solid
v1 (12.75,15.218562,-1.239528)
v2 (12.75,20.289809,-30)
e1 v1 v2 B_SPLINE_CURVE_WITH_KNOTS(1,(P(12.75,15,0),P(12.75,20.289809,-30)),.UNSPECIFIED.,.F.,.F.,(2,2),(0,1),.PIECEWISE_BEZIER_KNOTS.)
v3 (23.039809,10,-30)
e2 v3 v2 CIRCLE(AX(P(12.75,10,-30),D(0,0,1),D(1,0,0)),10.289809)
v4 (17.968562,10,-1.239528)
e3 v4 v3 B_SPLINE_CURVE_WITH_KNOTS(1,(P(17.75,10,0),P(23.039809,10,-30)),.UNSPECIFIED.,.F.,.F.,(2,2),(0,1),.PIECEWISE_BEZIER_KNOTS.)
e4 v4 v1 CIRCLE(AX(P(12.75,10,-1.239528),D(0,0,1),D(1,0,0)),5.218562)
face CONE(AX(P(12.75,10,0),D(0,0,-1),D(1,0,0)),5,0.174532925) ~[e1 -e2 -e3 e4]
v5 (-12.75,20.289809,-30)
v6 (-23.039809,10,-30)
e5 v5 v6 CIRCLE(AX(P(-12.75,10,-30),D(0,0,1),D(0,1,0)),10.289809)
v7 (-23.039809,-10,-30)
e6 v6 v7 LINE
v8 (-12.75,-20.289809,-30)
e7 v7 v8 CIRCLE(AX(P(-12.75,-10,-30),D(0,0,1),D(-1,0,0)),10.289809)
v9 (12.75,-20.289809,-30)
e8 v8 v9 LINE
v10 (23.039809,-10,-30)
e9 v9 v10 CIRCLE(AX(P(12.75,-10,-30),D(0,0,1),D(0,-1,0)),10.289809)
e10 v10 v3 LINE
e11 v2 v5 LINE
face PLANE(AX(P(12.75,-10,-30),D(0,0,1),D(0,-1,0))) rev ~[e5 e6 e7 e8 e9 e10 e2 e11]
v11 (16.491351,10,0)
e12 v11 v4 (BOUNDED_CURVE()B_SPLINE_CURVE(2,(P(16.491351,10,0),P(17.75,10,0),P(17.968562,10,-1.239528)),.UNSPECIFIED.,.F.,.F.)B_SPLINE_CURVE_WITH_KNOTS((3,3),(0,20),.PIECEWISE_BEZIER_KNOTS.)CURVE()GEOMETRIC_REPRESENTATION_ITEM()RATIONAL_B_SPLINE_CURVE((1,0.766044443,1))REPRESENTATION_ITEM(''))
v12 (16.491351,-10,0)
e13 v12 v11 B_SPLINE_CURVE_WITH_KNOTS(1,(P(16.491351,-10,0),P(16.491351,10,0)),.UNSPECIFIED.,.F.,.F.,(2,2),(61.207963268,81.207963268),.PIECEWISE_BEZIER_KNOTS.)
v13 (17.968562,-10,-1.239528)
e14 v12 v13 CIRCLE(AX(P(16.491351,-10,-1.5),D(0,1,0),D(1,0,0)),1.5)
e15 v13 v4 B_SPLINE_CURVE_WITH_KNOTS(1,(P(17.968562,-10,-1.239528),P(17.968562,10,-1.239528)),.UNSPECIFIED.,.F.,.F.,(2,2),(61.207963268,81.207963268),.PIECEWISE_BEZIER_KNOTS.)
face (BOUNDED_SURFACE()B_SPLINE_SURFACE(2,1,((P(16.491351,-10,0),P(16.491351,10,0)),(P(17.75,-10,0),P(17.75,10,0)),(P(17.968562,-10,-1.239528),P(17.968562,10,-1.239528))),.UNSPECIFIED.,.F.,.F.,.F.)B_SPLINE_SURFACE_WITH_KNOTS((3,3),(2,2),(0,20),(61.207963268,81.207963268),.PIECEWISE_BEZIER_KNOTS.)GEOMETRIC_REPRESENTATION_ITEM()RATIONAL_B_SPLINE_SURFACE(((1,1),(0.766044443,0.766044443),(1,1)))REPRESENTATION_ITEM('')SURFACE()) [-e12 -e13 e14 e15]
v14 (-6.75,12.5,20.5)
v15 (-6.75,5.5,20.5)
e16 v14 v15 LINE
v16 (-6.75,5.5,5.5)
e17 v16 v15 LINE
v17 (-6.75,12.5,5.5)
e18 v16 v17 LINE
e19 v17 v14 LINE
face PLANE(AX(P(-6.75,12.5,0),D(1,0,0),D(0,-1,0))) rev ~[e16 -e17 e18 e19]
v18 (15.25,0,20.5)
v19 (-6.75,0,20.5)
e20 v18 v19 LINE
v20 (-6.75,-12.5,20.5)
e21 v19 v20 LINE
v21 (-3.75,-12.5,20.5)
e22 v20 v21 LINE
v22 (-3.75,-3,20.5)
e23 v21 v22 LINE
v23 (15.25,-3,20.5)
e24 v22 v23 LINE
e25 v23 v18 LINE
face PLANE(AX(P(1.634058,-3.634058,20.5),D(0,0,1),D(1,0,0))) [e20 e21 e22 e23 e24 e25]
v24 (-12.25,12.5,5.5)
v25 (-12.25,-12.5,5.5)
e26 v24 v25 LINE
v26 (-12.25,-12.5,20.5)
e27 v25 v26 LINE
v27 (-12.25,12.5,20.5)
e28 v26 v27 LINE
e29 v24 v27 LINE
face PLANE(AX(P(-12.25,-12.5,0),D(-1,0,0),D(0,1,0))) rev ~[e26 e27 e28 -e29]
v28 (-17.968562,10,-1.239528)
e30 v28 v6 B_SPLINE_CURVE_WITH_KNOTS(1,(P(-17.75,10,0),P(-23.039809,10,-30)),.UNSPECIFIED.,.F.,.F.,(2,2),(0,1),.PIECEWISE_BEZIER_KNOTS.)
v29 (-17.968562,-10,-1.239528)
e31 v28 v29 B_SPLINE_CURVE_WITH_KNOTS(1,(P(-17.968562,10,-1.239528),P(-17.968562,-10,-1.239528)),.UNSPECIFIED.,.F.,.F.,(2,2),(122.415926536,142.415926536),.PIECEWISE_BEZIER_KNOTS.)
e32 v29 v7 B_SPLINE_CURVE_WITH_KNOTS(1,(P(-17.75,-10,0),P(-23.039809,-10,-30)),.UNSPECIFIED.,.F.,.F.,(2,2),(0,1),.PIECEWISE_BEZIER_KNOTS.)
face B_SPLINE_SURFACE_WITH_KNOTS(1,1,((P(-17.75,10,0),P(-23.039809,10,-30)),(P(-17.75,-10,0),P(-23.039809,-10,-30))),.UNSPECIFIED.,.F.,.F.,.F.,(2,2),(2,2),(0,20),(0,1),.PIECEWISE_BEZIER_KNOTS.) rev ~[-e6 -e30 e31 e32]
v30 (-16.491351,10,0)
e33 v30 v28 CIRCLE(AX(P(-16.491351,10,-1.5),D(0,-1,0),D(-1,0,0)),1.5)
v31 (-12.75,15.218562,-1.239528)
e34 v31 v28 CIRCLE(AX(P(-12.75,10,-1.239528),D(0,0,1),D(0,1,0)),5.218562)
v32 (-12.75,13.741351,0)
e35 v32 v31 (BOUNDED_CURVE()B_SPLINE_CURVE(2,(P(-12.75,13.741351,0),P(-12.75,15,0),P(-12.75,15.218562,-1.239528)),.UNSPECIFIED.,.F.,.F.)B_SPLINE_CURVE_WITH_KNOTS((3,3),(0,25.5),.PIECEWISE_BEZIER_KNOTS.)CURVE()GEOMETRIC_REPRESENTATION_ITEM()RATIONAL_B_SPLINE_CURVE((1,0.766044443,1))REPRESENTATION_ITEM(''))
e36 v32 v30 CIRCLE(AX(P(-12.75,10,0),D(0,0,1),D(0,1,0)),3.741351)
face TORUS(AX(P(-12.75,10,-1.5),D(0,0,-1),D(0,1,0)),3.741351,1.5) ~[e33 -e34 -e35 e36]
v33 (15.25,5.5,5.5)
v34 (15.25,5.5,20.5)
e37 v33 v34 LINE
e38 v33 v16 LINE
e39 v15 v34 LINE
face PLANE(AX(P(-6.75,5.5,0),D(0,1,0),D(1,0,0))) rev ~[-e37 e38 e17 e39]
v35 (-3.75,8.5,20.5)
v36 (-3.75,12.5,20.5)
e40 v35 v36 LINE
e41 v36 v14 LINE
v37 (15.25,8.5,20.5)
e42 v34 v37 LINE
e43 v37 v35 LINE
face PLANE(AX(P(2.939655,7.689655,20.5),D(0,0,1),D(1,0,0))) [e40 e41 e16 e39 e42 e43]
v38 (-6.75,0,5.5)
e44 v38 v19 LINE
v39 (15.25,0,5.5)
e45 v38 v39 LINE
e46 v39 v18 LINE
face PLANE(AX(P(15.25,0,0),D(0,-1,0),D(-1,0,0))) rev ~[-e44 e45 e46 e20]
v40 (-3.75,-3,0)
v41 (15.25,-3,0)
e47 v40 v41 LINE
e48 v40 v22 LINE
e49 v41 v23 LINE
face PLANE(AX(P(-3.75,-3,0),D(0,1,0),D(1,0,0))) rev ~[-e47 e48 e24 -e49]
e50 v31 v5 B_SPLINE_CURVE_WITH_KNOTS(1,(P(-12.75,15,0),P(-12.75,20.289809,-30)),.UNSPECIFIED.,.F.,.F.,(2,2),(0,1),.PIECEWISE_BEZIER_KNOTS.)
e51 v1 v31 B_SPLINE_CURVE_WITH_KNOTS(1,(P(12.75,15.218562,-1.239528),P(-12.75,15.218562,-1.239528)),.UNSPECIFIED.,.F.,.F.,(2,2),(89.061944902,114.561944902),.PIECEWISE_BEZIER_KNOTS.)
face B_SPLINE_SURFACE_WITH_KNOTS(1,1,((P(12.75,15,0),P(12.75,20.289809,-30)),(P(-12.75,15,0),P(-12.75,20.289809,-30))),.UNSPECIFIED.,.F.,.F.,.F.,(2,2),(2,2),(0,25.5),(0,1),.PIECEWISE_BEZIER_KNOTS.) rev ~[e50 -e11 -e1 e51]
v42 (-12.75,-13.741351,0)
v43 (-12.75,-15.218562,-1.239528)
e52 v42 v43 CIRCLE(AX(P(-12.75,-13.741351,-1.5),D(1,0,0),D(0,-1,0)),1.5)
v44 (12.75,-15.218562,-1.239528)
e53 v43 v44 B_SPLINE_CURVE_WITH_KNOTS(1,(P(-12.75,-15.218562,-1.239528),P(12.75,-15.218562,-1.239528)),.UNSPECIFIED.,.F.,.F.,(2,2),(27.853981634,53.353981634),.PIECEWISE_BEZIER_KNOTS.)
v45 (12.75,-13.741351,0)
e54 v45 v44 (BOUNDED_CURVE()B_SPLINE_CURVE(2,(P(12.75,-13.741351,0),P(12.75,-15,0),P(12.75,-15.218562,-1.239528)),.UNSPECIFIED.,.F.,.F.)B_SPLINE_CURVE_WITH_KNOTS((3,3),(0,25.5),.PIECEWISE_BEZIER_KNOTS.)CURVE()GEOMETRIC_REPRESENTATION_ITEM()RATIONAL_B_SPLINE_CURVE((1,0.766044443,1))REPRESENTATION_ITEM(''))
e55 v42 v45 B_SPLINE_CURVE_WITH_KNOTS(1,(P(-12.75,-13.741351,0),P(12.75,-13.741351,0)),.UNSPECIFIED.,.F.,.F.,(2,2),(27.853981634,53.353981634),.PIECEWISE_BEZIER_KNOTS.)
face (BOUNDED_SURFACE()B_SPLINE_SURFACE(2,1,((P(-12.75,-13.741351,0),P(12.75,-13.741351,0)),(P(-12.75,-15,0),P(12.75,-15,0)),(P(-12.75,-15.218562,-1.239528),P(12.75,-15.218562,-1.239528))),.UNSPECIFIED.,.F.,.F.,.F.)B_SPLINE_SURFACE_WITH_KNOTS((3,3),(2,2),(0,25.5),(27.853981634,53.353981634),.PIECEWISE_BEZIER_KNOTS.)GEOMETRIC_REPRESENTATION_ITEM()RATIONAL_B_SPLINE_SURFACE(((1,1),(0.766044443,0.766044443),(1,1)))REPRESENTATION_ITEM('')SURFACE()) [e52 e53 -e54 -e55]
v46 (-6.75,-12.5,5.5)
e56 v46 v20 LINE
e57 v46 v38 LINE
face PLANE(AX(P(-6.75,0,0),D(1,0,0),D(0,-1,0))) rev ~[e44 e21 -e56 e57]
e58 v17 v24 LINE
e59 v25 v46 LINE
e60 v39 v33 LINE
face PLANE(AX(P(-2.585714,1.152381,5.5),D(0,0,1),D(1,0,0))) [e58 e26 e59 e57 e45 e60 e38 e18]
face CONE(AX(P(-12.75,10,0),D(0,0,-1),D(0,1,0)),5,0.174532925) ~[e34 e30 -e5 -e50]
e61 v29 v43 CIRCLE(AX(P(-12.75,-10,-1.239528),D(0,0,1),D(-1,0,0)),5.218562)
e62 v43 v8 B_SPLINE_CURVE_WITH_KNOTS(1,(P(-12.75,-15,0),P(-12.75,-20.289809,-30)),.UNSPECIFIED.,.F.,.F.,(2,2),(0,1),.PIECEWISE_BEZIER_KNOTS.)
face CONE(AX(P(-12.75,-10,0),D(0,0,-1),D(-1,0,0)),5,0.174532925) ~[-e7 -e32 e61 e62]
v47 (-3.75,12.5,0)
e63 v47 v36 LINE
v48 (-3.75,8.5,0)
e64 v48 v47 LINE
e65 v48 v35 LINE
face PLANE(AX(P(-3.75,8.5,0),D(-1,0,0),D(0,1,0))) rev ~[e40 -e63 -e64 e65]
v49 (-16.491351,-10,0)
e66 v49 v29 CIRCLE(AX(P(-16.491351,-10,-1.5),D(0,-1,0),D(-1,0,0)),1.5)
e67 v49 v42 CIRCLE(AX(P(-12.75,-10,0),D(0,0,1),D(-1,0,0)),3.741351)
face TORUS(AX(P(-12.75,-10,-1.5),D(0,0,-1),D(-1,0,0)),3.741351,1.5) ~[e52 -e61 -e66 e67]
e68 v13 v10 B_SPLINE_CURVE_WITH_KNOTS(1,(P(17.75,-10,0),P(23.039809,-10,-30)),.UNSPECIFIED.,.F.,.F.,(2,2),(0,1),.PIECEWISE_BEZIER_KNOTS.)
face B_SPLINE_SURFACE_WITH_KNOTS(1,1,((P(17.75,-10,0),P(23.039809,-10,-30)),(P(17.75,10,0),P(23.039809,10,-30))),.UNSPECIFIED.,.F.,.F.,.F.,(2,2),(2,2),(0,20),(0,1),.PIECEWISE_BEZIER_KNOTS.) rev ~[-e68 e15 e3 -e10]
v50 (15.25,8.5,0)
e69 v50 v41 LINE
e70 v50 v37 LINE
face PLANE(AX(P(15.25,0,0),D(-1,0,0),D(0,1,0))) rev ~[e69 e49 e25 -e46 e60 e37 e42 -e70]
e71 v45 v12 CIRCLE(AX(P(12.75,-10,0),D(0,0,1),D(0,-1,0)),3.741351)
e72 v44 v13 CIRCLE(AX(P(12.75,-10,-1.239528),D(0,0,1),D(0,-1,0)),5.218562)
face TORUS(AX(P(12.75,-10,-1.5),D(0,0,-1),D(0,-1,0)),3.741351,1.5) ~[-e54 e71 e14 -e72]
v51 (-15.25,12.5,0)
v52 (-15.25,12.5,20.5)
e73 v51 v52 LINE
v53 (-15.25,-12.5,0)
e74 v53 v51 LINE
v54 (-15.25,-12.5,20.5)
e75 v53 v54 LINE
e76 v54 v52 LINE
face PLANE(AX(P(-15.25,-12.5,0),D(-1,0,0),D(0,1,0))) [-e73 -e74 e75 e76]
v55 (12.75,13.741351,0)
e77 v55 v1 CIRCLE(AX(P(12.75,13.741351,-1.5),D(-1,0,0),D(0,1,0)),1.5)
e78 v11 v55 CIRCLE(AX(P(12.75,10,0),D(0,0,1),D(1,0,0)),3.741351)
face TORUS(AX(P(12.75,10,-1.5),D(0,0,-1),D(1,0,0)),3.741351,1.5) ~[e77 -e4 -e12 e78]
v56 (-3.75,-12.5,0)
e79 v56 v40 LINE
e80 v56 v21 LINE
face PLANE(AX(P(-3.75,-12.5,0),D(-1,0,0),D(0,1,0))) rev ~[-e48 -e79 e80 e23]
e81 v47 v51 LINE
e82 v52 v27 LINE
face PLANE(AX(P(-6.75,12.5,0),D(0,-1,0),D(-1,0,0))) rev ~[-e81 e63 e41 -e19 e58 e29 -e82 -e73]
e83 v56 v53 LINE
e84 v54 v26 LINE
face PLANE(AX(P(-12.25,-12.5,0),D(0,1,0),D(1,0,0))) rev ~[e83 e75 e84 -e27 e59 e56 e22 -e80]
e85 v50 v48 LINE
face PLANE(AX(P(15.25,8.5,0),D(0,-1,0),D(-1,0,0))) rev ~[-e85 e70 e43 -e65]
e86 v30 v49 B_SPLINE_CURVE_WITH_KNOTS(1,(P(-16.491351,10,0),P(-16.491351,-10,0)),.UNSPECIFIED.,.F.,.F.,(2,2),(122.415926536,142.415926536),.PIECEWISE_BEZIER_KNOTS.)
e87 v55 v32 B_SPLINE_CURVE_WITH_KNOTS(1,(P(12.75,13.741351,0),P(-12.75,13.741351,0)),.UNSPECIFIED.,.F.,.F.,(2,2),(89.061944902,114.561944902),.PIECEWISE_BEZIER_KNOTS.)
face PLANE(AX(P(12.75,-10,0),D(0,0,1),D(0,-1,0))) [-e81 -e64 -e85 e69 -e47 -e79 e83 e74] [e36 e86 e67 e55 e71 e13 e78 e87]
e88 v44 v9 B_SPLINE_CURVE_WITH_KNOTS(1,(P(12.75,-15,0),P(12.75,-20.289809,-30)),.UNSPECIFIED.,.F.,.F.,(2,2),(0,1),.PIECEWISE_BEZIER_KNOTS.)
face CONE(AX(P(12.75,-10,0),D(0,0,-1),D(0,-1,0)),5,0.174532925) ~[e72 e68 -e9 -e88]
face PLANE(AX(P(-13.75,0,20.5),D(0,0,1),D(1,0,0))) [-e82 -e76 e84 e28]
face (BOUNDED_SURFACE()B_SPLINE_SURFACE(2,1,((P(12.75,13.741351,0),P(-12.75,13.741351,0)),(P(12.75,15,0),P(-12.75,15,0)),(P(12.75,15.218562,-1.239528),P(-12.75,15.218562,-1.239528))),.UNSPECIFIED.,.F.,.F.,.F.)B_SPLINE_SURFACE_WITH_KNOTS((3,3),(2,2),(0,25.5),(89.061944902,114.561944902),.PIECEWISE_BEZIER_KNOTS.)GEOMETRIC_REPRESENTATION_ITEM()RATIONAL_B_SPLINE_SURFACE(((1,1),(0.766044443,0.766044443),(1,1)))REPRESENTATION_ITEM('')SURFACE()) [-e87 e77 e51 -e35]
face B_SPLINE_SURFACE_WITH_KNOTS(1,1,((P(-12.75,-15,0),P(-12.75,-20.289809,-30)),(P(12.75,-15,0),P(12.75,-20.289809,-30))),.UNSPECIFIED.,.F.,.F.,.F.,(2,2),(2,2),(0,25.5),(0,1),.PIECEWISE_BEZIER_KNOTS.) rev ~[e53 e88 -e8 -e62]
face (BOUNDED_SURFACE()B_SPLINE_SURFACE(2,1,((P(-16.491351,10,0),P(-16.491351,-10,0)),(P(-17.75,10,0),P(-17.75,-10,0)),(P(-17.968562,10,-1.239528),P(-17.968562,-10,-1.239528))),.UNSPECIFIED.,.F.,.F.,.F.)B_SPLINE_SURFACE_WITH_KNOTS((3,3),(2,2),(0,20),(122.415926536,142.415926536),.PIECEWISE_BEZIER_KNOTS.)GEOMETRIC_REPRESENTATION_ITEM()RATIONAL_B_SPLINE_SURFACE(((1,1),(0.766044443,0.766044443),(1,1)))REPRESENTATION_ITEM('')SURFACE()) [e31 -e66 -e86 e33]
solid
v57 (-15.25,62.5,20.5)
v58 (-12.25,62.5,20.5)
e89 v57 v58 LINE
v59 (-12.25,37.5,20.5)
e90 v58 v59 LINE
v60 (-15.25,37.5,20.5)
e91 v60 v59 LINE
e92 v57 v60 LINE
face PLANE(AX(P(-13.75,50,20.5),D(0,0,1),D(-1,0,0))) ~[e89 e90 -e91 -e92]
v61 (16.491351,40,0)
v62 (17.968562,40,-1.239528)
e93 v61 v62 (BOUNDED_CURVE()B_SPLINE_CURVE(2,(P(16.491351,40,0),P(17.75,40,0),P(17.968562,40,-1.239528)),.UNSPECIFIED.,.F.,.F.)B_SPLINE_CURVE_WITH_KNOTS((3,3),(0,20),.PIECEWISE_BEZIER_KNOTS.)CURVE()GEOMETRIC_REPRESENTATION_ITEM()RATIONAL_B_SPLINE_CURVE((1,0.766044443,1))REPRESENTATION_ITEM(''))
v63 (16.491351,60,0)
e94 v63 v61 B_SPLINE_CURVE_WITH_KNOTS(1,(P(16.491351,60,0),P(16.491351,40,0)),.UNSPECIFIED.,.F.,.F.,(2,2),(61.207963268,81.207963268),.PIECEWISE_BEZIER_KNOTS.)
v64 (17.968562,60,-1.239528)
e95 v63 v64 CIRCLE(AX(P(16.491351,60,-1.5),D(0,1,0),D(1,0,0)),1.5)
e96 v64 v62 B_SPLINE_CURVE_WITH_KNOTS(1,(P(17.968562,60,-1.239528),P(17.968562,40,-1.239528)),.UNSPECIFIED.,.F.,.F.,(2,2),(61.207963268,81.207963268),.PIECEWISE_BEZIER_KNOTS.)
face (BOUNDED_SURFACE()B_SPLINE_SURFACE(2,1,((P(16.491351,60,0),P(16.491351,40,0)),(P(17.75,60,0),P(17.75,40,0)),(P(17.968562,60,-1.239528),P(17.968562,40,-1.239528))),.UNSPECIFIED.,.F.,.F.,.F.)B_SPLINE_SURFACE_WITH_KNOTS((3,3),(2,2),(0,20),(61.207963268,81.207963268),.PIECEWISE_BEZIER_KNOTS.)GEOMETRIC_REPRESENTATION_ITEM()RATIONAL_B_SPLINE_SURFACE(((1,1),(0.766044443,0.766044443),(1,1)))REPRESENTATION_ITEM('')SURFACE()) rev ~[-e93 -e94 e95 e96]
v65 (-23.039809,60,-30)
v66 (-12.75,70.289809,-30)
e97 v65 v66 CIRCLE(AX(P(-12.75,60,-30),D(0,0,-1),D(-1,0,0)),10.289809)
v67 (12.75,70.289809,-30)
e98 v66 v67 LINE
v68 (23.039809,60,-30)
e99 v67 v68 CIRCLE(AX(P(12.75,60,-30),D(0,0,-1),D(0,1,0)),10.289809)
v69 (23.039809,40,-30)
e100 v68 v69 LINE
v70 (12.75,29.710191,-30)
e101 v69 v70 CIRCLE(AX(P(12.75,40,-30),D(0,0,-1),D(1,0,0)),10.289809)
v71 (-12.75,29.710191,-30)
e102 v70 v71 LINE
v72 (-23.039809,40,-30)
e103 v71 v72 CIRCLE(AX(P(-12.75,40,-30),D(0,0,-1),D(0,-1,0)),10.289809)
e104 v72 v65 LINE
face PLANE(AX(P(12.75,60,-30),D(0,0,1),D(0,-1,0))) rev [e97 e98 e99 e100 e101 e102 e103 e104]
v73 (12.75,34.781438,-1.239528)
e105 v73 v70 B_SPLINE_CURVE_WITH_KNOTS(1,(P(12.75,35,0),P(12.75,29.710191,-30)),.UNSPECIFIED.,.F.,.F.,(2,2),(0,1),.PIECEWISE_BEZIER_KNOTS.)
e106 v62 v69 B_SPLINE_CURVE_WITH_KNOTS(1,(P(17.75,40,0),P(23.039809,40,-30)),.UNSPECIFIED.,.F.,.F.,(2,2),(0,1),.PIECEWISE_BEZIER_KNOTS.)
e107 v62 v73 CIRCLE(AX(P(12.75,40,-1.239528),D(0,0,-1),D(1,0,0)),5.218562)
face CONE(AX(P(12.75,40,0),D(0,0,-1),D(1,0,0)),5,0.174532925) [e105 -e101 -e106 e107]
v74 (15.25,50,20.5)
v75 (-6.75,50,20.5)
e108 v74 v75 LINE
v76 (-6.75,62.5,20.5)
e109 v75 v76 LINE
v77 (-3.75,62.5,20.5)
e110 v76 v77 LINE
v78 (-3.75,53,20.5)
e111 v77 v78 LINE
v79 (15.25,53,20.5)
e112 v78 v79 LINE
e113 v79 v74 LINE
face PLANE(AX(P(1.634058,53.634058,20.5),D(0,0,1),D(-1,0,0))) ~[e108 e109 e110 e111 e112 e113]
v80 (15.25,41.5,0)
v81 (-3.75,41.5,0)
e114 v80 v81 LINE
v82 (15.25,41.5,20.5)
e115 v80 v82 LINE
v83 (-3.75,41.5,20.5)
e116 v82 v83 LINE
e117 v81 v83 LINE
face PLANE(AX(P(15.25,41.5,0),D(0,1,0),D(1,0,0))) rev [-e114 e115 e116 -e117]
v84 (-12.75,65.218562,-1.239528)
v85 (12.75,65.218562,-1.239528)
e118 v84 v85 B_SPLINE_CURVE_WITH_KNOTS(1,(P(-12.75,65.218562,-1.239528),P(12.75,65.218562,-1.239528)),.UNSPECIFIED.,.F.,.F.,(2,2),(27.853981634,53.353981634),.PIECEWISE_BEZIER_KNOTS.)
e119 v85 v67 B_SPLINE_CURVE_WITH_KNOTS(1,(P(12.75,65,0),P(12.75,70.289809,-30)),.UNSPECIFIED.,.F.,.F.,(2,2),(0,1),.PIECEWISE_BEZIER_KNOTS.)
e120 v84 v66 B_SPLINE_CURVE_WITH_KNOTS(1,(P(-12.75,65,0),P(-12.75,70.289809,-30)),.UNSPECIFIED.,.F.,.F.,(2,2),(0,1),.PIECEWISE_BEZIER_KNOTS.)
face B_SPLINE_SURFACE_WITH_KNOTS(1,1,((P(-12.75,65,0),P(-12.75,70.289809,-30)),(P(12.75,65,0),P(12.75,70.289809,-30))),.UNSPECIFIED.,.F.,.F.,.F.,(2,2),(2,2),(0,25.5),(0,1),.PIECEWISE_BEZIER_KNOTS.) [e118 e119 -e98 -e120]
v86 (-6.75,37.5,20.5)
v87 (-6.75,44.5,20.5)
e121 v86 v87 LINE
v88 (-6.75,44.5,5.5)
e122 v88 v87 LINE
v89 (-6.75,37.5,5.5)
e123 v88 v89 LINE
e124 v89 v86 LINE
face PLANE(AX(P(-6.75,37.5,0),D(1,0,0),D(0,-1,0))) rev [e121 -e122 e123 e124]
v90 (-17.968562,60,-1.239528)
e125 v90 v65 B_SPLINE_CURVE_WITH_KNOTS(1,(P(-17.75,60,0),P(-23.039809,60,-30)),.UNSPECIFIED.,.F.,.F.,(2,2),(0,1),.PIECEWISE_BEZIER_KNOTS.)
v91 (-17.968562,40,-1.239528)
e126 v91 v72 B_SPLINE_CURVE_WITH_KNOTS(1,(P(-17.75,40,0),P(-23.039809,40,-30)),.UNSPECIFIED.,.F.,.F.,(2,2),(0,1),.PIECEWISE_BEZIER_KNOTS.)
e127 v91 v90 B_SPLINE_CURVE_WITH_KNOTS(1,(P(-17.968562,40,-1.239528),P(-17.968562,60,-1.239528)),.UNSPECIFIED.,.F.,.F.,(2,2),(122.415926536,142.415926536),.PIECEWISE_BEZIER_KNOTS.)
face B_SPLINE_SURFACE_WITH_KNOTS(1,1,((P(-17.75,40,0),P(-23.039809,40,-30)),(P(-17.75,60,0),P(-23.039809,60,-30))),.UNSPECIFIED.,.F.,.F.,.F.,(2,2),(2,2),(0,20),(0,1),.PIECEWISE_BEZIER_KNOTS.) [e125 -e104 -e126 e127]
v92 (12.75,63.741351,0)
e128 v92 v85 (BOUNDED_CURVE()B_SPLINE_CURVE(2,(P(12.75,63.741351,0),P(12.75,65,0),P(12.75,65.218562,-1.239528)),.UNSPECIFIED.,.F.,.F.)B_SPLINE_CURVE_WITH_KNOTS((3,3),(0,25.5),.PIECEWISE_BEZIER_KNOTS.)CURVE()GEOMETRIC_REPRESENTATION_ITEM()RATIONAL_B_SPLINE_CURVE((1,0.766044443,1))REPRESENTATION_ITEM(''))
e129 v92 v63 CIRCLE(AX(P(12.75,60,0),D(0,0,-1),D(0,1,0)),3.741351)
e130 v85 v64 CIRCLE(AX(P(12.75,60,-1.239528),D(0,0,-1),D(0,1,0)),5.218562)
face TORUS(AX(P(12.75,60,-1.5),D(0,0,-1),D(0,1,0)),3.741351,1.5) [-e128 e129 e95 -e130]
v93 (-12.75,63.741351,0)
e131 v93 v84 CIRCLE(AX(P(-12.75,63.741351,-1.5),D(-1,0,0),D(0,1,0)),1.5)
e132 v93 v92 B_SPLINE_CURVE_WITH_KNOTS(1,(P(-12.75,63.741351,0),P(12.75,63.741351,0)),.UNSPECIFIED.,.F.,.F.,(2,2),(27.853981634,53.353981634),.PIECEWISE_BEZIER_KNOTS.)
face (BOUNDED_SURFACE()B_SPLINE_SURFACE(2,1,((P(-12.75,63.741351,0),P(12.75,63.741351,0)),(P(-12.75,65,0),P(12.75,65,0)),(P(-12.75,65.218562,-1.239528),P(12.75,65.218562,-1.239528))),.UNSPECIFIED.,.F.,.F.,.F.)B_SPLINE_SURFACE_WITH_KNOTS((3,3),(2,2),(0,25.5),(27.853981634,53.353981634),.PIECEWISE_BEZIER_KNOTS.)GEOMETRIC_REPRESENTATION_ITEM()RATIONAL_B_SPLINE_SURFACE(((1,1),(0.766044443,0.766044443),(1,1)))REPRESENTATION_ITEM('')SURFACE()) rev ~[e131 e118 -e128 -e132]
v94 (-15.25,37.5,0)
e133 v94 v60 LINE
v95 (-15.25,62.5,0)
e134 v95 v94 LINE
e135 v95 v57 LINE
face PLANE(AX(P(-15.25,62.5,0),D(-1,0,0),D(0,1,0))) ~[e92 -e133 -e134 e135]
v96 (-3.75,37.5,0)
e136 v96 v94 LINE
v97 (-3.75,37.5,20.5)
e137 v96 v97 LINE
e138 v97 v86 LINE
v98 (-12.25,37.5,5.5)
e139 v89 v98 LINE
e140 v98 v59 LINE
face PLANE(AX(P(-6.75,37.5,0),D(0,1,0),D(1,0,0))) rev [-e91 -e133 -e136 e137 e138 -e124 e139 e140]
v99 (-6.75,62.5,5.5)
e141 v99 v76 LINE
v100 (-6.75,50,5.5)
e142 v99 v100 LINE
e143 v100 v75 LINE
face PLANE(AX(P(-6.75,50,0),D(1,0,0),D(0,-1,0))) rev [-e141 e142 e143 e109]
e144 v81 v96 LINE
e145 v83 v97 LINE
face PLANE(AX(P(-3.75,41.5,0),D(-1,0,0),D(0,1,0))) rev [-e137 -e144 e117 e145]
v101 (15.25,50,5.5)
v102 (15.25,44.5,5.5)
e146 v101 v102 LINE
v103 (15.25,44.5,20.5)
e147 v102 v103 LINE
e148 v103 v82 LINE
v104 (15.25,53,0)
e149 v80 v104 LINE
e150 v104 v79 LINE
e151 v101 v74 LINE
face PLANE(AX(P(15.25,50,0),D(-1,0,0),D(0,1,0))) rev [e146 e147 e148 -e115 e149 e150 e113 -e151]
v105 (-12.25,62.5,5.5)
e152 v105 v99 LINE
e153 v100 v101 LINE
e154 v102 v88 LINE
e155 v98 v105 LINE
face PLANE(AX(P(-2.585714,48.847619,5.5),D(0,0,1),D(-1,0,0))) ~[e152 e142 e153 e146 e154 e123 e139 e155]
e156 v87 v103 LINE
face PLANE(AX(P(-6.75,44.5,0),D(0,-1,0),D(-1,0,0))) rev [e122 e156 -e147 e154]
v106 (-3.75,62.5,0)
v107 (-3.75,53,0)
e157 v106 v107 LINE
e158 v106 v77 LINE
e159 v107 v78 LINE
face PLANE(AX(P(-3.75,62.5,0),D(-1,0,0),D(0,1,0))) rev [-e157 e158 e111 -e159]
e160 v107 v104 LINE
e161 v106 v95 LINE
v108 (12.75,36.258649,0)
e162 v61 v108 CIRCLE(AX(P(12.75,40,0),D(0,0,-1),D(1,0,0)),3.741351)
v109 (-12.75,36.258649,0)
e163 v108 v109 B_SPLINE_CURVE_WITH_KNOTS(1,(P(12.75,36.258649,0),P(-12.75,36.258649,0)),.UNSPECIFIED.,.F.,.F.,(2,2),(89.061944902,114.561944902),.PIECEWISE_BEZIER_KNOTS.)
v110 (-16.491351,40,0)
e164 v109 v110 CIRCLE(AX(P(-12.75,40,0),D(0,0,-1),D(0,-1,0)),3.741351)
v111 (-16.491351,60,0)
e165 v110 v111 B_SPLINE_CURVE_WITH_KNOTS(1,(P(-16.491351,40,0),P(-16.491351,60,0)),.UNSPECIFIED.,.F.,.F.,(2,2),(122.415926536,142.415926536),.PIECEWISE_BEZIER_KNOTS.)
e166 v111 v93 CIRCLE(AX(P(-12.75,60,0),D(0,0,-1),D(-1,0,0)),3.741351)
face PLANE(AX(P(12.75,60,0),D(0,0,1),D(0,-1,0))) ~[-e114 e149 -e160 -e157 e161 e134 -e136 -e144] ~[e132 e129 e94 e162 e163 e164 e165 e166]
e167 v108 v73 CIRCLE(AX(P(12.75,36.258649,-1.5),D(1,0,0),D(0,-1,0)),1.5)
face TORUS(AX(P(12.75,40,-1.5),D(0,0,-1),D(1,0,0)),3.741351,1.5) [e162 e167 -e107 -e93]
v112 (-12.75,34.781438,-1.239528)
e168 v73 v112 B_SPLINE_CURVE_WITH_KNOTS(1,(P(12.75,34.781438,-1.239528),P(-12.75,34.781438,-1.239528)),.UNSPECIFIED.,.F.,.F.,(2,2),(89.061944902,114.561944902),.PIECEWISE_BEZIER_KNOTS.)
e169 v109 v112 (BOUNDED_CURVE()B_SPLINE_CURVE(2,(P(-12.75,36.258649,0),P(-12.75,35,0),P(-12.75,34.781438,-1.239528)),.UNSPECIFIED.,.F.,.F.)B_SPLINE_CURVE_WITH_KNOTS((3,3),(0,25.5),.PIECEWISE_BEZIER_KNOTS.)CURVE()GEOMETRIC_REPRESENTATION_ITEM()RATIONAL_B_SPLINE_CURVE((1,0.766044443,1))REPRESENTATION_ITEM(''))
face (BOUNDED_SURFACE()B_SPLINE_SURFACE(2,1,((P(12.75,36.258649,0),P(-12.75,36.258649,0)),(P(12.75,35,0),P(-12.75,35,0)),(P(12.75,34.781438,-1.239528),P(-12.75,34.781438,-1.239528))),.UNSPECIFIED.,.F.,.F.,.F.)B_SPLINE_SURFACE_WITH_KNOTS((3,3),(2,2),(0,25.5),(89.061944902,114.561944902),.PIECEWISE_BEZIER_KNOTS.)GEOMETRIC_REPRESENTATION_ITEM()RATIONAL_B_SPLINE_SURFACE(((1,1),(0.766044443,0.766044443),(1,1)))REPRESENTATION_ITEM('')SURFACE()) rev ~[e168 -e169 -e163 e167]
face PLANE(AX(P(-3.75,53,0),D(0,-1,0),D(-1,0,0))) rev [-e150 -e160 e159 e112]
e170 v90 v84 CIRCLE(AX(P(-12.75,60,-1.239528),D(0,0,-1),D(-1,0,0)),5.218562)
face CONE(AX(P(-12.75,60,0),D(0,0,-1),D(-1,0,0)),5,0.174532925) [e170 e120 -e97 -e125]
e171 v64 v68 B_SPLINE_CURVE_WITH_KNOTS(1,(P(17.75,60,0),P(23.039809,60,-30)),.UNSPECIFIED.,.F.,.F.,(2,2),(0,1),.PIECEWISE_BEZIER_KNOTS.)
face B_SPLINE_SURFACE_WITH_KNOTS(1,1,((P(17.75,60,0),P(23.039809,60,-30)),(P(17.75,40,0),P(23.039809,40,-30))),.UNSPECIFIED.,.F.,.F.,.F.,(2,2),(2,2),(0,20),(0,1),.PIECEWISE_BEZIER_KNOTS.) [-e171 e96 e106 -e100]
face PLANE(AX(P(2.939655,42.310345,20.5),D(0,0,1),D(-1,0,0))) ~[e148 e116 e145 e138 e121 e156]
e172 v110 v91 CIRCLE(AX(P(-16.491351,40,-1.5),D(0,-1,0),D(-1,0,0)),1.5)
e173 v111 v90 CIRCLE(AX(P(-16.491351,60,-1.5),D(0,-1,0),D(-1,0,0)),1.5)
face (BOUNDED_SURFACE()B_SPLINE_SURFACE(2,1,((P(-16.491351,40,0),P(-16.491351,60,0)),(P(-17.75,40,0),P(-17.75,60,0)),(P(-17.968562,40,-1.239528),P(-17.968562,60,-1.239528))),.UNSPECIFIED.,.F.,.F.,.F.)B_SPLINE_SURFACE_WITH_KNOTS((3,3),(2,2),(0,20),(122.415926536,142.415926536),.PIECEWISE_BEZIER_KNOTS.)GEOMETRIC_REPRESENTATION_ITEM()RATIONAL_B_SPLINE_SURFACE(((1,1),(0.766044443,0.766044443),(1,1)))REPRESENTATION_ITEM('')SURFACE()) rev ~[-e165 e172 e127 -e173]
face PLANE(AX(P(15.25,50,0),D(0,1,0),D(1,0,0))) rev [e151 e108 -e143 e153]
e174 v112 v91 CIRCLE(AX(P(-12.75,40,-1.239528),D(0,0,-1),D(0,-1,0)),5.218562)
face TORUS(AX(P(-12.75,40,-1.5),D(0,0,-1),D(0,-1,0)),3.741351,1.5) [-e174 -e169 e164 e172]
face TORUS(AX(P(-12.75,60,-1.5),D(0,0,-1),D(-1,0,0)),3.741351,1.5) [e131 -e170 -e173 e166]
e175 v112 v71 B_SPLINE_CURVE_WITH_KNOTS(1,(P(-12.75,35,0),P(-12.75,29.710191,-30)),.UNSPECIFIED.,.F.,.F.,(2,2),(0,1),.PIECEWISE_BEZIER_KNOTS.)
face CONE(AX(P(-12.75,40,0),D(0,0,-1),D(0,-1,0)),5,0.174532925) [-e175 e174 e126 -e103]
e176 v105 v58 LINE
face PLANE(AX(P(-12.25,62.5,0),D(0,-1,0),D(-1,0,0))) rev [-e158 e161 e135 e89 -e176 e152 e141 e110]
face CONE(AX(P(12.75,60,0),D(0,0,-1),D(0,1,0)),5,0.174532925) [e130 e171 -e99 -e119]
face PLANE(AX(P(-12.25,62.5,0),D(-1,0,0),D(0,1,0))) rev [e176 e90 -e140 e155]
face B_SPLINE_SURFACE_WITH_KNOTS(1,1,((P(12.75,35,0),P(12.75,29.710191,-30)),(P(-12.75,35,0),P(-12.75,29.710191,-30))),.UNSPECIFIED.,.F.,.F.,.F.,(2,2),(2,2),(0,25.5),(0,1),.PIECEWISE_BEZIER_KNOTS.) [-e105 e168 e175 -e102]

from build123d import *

# Parameters (mm, degrees)
F0_W     = 3
F0_H     = 25
F1_DEPTH = 20.5
F2_DEPTH = 5.5
F0_W_2   = 19
F0_H_2   = 4
F0_H_3   = 9.5
F3_DEPTH = 30
F3_TAPER = -10
F4_R     = 1.5


with BuildPart() as f1:
    # F0 (on Top) → F1 (new body)
    with BuildSketch(Plane.XY):
        with Locations((-13.75, 0)):
            Rectangle(F0_W, F0_H)
    extrude(amount=F1_DEPTH)



with BuildPart() as f1b:
    # F0 (on Top) → F1, piece 2 (new body)
    with BuildSketch(Plane.XY):
        Polygon((15.25, -3), (15.25, 0), (-6.75, 0), (-6.75, -12.5), (-3.75, -12.5), (-3.75, -3), align=None)
    extrude(amount=F1_DEPTH)


with BuildPart() as f1c:
    # F0 (on Top) → F1, piece 3 (new body)
    with BuildSketch(Plane.XY):
        Polygon((-3.75, 8.5), (-3.75, 12.5), (-6.75, 12.5), (-6.75, 5.5), (15.25, 5.5), (15.25, 8.5), align=None)
    extrude(amount=F1_DEPTH)


with BuildPart() as f1_1:
    add(f1.part)

    add(f1b.part)  # F2 merges F1b

    add(f1c.part)  # F2 merges F1c
    # F0 (on Top) → F2 (join)
    with BuildSketch(Plane.XY):
        Polygon((-6.75, 5.5), (-6.75, 12.5), (-12.25, 12.5), (-12.25, -12.5), (-6.75, -12.5), (-6.75, 0), (15.25, 0), (15.25, 5.5), align=None)
    extrude(amount=F2_DEPTH)

    # F0 (on Top) → F3 (join)
    with BuildSketch(Plane.XY):
        with BuildLine():
            Line((-12.75, -15), (12.75, -15))
            ThreePointArc((12.75, -15), (16.2855339059, -13.5355339059), (17.75, -10))
            Line((17.75, -10), (17.75, 10))
            ThreePointArc((17.75, 10), (16.2855339059, 13.5355339059), (12.75, 15))
            Line((12.75, 15), (-12.75, 15))
            ThreePointArc((-12.75, 15), (-16.2855339059, 13.5355339059), (-17.75, 10))
            Line((-17.75, 10), (-17.75, -10))
            ThreePointArc((-17.75, -10), (-16.2855339059, -13.5355339059), (-12.75, -15))
        make_face()
        Polygon((-3.75, 12.5), (15.25, 12.5), (15.25, 8.5), (15.25, 5.5), (15.25, 0), (15.25, -3), (15.25, -12.5), (-3.75, -12.5), (-6.75, -12.5), (-12.25, -12.5), (-15.25, -12.5), (-15.25, 12.5), (-12.25, 12.5), (-6.75, 12.5), align=None, mode=Mode.SUBTRACT)
        with Locations((-13.75, 0)):
            Rectangle(F0_W, F0_H)
        Polygon((-6.75, 5.5), (-6.75, 12.5), (-12.25, 12.5), (-12.25, -12.5), (-6.75, -12.5), (-6.75, 0), (15.25, 0), (15.25, 5.5), align=None)
        Polygon((15.25, -3), (15.25, 0), (-6.75, 0), (-6.75, -12.5), (-3.75, -12.5), (-3.75, -3), align=None)
        Polygon((-3.75, 8.5), (-3.75, 12.5), (-6.75, 12.5), (-6.75, 5.5), (15.25, 5.5), (15.25, 8.5), align=None)
        with Locations((5.75, 10.5)):
            Rectangle(F0_W_2, F0_H_2)
        with Locations((5.75, -7.75)):
            Rectangle(F0_W_2, F0_H_3)
    extrude(amount=-F3_DEPTH, taper=F3_TAPER)

    # F4
    f4_edges = [f1_1.edges().sort_by_distance(p)[0] for p in [
        (-17.75, 0, 0),
        (-16.285534, -13.535534, 0),
        (-16.285534, 13.535534, 0),
        (0, 15, 0),
        (16.285534, 13.535534, 0),
        (17.75, 0, 0),
        (0, -15, 0),
        (16.285534, -13.535534, 0),
    ]]
    fillet(f4_edges, radius=F4_R)


with BuildPart() as f6_1:
    # F6: instance of F1
    add(f1_1.part.mirror(Plane.XZ.offset(-25)))


solid = Compound([f1_1.part, f6_1.part])
